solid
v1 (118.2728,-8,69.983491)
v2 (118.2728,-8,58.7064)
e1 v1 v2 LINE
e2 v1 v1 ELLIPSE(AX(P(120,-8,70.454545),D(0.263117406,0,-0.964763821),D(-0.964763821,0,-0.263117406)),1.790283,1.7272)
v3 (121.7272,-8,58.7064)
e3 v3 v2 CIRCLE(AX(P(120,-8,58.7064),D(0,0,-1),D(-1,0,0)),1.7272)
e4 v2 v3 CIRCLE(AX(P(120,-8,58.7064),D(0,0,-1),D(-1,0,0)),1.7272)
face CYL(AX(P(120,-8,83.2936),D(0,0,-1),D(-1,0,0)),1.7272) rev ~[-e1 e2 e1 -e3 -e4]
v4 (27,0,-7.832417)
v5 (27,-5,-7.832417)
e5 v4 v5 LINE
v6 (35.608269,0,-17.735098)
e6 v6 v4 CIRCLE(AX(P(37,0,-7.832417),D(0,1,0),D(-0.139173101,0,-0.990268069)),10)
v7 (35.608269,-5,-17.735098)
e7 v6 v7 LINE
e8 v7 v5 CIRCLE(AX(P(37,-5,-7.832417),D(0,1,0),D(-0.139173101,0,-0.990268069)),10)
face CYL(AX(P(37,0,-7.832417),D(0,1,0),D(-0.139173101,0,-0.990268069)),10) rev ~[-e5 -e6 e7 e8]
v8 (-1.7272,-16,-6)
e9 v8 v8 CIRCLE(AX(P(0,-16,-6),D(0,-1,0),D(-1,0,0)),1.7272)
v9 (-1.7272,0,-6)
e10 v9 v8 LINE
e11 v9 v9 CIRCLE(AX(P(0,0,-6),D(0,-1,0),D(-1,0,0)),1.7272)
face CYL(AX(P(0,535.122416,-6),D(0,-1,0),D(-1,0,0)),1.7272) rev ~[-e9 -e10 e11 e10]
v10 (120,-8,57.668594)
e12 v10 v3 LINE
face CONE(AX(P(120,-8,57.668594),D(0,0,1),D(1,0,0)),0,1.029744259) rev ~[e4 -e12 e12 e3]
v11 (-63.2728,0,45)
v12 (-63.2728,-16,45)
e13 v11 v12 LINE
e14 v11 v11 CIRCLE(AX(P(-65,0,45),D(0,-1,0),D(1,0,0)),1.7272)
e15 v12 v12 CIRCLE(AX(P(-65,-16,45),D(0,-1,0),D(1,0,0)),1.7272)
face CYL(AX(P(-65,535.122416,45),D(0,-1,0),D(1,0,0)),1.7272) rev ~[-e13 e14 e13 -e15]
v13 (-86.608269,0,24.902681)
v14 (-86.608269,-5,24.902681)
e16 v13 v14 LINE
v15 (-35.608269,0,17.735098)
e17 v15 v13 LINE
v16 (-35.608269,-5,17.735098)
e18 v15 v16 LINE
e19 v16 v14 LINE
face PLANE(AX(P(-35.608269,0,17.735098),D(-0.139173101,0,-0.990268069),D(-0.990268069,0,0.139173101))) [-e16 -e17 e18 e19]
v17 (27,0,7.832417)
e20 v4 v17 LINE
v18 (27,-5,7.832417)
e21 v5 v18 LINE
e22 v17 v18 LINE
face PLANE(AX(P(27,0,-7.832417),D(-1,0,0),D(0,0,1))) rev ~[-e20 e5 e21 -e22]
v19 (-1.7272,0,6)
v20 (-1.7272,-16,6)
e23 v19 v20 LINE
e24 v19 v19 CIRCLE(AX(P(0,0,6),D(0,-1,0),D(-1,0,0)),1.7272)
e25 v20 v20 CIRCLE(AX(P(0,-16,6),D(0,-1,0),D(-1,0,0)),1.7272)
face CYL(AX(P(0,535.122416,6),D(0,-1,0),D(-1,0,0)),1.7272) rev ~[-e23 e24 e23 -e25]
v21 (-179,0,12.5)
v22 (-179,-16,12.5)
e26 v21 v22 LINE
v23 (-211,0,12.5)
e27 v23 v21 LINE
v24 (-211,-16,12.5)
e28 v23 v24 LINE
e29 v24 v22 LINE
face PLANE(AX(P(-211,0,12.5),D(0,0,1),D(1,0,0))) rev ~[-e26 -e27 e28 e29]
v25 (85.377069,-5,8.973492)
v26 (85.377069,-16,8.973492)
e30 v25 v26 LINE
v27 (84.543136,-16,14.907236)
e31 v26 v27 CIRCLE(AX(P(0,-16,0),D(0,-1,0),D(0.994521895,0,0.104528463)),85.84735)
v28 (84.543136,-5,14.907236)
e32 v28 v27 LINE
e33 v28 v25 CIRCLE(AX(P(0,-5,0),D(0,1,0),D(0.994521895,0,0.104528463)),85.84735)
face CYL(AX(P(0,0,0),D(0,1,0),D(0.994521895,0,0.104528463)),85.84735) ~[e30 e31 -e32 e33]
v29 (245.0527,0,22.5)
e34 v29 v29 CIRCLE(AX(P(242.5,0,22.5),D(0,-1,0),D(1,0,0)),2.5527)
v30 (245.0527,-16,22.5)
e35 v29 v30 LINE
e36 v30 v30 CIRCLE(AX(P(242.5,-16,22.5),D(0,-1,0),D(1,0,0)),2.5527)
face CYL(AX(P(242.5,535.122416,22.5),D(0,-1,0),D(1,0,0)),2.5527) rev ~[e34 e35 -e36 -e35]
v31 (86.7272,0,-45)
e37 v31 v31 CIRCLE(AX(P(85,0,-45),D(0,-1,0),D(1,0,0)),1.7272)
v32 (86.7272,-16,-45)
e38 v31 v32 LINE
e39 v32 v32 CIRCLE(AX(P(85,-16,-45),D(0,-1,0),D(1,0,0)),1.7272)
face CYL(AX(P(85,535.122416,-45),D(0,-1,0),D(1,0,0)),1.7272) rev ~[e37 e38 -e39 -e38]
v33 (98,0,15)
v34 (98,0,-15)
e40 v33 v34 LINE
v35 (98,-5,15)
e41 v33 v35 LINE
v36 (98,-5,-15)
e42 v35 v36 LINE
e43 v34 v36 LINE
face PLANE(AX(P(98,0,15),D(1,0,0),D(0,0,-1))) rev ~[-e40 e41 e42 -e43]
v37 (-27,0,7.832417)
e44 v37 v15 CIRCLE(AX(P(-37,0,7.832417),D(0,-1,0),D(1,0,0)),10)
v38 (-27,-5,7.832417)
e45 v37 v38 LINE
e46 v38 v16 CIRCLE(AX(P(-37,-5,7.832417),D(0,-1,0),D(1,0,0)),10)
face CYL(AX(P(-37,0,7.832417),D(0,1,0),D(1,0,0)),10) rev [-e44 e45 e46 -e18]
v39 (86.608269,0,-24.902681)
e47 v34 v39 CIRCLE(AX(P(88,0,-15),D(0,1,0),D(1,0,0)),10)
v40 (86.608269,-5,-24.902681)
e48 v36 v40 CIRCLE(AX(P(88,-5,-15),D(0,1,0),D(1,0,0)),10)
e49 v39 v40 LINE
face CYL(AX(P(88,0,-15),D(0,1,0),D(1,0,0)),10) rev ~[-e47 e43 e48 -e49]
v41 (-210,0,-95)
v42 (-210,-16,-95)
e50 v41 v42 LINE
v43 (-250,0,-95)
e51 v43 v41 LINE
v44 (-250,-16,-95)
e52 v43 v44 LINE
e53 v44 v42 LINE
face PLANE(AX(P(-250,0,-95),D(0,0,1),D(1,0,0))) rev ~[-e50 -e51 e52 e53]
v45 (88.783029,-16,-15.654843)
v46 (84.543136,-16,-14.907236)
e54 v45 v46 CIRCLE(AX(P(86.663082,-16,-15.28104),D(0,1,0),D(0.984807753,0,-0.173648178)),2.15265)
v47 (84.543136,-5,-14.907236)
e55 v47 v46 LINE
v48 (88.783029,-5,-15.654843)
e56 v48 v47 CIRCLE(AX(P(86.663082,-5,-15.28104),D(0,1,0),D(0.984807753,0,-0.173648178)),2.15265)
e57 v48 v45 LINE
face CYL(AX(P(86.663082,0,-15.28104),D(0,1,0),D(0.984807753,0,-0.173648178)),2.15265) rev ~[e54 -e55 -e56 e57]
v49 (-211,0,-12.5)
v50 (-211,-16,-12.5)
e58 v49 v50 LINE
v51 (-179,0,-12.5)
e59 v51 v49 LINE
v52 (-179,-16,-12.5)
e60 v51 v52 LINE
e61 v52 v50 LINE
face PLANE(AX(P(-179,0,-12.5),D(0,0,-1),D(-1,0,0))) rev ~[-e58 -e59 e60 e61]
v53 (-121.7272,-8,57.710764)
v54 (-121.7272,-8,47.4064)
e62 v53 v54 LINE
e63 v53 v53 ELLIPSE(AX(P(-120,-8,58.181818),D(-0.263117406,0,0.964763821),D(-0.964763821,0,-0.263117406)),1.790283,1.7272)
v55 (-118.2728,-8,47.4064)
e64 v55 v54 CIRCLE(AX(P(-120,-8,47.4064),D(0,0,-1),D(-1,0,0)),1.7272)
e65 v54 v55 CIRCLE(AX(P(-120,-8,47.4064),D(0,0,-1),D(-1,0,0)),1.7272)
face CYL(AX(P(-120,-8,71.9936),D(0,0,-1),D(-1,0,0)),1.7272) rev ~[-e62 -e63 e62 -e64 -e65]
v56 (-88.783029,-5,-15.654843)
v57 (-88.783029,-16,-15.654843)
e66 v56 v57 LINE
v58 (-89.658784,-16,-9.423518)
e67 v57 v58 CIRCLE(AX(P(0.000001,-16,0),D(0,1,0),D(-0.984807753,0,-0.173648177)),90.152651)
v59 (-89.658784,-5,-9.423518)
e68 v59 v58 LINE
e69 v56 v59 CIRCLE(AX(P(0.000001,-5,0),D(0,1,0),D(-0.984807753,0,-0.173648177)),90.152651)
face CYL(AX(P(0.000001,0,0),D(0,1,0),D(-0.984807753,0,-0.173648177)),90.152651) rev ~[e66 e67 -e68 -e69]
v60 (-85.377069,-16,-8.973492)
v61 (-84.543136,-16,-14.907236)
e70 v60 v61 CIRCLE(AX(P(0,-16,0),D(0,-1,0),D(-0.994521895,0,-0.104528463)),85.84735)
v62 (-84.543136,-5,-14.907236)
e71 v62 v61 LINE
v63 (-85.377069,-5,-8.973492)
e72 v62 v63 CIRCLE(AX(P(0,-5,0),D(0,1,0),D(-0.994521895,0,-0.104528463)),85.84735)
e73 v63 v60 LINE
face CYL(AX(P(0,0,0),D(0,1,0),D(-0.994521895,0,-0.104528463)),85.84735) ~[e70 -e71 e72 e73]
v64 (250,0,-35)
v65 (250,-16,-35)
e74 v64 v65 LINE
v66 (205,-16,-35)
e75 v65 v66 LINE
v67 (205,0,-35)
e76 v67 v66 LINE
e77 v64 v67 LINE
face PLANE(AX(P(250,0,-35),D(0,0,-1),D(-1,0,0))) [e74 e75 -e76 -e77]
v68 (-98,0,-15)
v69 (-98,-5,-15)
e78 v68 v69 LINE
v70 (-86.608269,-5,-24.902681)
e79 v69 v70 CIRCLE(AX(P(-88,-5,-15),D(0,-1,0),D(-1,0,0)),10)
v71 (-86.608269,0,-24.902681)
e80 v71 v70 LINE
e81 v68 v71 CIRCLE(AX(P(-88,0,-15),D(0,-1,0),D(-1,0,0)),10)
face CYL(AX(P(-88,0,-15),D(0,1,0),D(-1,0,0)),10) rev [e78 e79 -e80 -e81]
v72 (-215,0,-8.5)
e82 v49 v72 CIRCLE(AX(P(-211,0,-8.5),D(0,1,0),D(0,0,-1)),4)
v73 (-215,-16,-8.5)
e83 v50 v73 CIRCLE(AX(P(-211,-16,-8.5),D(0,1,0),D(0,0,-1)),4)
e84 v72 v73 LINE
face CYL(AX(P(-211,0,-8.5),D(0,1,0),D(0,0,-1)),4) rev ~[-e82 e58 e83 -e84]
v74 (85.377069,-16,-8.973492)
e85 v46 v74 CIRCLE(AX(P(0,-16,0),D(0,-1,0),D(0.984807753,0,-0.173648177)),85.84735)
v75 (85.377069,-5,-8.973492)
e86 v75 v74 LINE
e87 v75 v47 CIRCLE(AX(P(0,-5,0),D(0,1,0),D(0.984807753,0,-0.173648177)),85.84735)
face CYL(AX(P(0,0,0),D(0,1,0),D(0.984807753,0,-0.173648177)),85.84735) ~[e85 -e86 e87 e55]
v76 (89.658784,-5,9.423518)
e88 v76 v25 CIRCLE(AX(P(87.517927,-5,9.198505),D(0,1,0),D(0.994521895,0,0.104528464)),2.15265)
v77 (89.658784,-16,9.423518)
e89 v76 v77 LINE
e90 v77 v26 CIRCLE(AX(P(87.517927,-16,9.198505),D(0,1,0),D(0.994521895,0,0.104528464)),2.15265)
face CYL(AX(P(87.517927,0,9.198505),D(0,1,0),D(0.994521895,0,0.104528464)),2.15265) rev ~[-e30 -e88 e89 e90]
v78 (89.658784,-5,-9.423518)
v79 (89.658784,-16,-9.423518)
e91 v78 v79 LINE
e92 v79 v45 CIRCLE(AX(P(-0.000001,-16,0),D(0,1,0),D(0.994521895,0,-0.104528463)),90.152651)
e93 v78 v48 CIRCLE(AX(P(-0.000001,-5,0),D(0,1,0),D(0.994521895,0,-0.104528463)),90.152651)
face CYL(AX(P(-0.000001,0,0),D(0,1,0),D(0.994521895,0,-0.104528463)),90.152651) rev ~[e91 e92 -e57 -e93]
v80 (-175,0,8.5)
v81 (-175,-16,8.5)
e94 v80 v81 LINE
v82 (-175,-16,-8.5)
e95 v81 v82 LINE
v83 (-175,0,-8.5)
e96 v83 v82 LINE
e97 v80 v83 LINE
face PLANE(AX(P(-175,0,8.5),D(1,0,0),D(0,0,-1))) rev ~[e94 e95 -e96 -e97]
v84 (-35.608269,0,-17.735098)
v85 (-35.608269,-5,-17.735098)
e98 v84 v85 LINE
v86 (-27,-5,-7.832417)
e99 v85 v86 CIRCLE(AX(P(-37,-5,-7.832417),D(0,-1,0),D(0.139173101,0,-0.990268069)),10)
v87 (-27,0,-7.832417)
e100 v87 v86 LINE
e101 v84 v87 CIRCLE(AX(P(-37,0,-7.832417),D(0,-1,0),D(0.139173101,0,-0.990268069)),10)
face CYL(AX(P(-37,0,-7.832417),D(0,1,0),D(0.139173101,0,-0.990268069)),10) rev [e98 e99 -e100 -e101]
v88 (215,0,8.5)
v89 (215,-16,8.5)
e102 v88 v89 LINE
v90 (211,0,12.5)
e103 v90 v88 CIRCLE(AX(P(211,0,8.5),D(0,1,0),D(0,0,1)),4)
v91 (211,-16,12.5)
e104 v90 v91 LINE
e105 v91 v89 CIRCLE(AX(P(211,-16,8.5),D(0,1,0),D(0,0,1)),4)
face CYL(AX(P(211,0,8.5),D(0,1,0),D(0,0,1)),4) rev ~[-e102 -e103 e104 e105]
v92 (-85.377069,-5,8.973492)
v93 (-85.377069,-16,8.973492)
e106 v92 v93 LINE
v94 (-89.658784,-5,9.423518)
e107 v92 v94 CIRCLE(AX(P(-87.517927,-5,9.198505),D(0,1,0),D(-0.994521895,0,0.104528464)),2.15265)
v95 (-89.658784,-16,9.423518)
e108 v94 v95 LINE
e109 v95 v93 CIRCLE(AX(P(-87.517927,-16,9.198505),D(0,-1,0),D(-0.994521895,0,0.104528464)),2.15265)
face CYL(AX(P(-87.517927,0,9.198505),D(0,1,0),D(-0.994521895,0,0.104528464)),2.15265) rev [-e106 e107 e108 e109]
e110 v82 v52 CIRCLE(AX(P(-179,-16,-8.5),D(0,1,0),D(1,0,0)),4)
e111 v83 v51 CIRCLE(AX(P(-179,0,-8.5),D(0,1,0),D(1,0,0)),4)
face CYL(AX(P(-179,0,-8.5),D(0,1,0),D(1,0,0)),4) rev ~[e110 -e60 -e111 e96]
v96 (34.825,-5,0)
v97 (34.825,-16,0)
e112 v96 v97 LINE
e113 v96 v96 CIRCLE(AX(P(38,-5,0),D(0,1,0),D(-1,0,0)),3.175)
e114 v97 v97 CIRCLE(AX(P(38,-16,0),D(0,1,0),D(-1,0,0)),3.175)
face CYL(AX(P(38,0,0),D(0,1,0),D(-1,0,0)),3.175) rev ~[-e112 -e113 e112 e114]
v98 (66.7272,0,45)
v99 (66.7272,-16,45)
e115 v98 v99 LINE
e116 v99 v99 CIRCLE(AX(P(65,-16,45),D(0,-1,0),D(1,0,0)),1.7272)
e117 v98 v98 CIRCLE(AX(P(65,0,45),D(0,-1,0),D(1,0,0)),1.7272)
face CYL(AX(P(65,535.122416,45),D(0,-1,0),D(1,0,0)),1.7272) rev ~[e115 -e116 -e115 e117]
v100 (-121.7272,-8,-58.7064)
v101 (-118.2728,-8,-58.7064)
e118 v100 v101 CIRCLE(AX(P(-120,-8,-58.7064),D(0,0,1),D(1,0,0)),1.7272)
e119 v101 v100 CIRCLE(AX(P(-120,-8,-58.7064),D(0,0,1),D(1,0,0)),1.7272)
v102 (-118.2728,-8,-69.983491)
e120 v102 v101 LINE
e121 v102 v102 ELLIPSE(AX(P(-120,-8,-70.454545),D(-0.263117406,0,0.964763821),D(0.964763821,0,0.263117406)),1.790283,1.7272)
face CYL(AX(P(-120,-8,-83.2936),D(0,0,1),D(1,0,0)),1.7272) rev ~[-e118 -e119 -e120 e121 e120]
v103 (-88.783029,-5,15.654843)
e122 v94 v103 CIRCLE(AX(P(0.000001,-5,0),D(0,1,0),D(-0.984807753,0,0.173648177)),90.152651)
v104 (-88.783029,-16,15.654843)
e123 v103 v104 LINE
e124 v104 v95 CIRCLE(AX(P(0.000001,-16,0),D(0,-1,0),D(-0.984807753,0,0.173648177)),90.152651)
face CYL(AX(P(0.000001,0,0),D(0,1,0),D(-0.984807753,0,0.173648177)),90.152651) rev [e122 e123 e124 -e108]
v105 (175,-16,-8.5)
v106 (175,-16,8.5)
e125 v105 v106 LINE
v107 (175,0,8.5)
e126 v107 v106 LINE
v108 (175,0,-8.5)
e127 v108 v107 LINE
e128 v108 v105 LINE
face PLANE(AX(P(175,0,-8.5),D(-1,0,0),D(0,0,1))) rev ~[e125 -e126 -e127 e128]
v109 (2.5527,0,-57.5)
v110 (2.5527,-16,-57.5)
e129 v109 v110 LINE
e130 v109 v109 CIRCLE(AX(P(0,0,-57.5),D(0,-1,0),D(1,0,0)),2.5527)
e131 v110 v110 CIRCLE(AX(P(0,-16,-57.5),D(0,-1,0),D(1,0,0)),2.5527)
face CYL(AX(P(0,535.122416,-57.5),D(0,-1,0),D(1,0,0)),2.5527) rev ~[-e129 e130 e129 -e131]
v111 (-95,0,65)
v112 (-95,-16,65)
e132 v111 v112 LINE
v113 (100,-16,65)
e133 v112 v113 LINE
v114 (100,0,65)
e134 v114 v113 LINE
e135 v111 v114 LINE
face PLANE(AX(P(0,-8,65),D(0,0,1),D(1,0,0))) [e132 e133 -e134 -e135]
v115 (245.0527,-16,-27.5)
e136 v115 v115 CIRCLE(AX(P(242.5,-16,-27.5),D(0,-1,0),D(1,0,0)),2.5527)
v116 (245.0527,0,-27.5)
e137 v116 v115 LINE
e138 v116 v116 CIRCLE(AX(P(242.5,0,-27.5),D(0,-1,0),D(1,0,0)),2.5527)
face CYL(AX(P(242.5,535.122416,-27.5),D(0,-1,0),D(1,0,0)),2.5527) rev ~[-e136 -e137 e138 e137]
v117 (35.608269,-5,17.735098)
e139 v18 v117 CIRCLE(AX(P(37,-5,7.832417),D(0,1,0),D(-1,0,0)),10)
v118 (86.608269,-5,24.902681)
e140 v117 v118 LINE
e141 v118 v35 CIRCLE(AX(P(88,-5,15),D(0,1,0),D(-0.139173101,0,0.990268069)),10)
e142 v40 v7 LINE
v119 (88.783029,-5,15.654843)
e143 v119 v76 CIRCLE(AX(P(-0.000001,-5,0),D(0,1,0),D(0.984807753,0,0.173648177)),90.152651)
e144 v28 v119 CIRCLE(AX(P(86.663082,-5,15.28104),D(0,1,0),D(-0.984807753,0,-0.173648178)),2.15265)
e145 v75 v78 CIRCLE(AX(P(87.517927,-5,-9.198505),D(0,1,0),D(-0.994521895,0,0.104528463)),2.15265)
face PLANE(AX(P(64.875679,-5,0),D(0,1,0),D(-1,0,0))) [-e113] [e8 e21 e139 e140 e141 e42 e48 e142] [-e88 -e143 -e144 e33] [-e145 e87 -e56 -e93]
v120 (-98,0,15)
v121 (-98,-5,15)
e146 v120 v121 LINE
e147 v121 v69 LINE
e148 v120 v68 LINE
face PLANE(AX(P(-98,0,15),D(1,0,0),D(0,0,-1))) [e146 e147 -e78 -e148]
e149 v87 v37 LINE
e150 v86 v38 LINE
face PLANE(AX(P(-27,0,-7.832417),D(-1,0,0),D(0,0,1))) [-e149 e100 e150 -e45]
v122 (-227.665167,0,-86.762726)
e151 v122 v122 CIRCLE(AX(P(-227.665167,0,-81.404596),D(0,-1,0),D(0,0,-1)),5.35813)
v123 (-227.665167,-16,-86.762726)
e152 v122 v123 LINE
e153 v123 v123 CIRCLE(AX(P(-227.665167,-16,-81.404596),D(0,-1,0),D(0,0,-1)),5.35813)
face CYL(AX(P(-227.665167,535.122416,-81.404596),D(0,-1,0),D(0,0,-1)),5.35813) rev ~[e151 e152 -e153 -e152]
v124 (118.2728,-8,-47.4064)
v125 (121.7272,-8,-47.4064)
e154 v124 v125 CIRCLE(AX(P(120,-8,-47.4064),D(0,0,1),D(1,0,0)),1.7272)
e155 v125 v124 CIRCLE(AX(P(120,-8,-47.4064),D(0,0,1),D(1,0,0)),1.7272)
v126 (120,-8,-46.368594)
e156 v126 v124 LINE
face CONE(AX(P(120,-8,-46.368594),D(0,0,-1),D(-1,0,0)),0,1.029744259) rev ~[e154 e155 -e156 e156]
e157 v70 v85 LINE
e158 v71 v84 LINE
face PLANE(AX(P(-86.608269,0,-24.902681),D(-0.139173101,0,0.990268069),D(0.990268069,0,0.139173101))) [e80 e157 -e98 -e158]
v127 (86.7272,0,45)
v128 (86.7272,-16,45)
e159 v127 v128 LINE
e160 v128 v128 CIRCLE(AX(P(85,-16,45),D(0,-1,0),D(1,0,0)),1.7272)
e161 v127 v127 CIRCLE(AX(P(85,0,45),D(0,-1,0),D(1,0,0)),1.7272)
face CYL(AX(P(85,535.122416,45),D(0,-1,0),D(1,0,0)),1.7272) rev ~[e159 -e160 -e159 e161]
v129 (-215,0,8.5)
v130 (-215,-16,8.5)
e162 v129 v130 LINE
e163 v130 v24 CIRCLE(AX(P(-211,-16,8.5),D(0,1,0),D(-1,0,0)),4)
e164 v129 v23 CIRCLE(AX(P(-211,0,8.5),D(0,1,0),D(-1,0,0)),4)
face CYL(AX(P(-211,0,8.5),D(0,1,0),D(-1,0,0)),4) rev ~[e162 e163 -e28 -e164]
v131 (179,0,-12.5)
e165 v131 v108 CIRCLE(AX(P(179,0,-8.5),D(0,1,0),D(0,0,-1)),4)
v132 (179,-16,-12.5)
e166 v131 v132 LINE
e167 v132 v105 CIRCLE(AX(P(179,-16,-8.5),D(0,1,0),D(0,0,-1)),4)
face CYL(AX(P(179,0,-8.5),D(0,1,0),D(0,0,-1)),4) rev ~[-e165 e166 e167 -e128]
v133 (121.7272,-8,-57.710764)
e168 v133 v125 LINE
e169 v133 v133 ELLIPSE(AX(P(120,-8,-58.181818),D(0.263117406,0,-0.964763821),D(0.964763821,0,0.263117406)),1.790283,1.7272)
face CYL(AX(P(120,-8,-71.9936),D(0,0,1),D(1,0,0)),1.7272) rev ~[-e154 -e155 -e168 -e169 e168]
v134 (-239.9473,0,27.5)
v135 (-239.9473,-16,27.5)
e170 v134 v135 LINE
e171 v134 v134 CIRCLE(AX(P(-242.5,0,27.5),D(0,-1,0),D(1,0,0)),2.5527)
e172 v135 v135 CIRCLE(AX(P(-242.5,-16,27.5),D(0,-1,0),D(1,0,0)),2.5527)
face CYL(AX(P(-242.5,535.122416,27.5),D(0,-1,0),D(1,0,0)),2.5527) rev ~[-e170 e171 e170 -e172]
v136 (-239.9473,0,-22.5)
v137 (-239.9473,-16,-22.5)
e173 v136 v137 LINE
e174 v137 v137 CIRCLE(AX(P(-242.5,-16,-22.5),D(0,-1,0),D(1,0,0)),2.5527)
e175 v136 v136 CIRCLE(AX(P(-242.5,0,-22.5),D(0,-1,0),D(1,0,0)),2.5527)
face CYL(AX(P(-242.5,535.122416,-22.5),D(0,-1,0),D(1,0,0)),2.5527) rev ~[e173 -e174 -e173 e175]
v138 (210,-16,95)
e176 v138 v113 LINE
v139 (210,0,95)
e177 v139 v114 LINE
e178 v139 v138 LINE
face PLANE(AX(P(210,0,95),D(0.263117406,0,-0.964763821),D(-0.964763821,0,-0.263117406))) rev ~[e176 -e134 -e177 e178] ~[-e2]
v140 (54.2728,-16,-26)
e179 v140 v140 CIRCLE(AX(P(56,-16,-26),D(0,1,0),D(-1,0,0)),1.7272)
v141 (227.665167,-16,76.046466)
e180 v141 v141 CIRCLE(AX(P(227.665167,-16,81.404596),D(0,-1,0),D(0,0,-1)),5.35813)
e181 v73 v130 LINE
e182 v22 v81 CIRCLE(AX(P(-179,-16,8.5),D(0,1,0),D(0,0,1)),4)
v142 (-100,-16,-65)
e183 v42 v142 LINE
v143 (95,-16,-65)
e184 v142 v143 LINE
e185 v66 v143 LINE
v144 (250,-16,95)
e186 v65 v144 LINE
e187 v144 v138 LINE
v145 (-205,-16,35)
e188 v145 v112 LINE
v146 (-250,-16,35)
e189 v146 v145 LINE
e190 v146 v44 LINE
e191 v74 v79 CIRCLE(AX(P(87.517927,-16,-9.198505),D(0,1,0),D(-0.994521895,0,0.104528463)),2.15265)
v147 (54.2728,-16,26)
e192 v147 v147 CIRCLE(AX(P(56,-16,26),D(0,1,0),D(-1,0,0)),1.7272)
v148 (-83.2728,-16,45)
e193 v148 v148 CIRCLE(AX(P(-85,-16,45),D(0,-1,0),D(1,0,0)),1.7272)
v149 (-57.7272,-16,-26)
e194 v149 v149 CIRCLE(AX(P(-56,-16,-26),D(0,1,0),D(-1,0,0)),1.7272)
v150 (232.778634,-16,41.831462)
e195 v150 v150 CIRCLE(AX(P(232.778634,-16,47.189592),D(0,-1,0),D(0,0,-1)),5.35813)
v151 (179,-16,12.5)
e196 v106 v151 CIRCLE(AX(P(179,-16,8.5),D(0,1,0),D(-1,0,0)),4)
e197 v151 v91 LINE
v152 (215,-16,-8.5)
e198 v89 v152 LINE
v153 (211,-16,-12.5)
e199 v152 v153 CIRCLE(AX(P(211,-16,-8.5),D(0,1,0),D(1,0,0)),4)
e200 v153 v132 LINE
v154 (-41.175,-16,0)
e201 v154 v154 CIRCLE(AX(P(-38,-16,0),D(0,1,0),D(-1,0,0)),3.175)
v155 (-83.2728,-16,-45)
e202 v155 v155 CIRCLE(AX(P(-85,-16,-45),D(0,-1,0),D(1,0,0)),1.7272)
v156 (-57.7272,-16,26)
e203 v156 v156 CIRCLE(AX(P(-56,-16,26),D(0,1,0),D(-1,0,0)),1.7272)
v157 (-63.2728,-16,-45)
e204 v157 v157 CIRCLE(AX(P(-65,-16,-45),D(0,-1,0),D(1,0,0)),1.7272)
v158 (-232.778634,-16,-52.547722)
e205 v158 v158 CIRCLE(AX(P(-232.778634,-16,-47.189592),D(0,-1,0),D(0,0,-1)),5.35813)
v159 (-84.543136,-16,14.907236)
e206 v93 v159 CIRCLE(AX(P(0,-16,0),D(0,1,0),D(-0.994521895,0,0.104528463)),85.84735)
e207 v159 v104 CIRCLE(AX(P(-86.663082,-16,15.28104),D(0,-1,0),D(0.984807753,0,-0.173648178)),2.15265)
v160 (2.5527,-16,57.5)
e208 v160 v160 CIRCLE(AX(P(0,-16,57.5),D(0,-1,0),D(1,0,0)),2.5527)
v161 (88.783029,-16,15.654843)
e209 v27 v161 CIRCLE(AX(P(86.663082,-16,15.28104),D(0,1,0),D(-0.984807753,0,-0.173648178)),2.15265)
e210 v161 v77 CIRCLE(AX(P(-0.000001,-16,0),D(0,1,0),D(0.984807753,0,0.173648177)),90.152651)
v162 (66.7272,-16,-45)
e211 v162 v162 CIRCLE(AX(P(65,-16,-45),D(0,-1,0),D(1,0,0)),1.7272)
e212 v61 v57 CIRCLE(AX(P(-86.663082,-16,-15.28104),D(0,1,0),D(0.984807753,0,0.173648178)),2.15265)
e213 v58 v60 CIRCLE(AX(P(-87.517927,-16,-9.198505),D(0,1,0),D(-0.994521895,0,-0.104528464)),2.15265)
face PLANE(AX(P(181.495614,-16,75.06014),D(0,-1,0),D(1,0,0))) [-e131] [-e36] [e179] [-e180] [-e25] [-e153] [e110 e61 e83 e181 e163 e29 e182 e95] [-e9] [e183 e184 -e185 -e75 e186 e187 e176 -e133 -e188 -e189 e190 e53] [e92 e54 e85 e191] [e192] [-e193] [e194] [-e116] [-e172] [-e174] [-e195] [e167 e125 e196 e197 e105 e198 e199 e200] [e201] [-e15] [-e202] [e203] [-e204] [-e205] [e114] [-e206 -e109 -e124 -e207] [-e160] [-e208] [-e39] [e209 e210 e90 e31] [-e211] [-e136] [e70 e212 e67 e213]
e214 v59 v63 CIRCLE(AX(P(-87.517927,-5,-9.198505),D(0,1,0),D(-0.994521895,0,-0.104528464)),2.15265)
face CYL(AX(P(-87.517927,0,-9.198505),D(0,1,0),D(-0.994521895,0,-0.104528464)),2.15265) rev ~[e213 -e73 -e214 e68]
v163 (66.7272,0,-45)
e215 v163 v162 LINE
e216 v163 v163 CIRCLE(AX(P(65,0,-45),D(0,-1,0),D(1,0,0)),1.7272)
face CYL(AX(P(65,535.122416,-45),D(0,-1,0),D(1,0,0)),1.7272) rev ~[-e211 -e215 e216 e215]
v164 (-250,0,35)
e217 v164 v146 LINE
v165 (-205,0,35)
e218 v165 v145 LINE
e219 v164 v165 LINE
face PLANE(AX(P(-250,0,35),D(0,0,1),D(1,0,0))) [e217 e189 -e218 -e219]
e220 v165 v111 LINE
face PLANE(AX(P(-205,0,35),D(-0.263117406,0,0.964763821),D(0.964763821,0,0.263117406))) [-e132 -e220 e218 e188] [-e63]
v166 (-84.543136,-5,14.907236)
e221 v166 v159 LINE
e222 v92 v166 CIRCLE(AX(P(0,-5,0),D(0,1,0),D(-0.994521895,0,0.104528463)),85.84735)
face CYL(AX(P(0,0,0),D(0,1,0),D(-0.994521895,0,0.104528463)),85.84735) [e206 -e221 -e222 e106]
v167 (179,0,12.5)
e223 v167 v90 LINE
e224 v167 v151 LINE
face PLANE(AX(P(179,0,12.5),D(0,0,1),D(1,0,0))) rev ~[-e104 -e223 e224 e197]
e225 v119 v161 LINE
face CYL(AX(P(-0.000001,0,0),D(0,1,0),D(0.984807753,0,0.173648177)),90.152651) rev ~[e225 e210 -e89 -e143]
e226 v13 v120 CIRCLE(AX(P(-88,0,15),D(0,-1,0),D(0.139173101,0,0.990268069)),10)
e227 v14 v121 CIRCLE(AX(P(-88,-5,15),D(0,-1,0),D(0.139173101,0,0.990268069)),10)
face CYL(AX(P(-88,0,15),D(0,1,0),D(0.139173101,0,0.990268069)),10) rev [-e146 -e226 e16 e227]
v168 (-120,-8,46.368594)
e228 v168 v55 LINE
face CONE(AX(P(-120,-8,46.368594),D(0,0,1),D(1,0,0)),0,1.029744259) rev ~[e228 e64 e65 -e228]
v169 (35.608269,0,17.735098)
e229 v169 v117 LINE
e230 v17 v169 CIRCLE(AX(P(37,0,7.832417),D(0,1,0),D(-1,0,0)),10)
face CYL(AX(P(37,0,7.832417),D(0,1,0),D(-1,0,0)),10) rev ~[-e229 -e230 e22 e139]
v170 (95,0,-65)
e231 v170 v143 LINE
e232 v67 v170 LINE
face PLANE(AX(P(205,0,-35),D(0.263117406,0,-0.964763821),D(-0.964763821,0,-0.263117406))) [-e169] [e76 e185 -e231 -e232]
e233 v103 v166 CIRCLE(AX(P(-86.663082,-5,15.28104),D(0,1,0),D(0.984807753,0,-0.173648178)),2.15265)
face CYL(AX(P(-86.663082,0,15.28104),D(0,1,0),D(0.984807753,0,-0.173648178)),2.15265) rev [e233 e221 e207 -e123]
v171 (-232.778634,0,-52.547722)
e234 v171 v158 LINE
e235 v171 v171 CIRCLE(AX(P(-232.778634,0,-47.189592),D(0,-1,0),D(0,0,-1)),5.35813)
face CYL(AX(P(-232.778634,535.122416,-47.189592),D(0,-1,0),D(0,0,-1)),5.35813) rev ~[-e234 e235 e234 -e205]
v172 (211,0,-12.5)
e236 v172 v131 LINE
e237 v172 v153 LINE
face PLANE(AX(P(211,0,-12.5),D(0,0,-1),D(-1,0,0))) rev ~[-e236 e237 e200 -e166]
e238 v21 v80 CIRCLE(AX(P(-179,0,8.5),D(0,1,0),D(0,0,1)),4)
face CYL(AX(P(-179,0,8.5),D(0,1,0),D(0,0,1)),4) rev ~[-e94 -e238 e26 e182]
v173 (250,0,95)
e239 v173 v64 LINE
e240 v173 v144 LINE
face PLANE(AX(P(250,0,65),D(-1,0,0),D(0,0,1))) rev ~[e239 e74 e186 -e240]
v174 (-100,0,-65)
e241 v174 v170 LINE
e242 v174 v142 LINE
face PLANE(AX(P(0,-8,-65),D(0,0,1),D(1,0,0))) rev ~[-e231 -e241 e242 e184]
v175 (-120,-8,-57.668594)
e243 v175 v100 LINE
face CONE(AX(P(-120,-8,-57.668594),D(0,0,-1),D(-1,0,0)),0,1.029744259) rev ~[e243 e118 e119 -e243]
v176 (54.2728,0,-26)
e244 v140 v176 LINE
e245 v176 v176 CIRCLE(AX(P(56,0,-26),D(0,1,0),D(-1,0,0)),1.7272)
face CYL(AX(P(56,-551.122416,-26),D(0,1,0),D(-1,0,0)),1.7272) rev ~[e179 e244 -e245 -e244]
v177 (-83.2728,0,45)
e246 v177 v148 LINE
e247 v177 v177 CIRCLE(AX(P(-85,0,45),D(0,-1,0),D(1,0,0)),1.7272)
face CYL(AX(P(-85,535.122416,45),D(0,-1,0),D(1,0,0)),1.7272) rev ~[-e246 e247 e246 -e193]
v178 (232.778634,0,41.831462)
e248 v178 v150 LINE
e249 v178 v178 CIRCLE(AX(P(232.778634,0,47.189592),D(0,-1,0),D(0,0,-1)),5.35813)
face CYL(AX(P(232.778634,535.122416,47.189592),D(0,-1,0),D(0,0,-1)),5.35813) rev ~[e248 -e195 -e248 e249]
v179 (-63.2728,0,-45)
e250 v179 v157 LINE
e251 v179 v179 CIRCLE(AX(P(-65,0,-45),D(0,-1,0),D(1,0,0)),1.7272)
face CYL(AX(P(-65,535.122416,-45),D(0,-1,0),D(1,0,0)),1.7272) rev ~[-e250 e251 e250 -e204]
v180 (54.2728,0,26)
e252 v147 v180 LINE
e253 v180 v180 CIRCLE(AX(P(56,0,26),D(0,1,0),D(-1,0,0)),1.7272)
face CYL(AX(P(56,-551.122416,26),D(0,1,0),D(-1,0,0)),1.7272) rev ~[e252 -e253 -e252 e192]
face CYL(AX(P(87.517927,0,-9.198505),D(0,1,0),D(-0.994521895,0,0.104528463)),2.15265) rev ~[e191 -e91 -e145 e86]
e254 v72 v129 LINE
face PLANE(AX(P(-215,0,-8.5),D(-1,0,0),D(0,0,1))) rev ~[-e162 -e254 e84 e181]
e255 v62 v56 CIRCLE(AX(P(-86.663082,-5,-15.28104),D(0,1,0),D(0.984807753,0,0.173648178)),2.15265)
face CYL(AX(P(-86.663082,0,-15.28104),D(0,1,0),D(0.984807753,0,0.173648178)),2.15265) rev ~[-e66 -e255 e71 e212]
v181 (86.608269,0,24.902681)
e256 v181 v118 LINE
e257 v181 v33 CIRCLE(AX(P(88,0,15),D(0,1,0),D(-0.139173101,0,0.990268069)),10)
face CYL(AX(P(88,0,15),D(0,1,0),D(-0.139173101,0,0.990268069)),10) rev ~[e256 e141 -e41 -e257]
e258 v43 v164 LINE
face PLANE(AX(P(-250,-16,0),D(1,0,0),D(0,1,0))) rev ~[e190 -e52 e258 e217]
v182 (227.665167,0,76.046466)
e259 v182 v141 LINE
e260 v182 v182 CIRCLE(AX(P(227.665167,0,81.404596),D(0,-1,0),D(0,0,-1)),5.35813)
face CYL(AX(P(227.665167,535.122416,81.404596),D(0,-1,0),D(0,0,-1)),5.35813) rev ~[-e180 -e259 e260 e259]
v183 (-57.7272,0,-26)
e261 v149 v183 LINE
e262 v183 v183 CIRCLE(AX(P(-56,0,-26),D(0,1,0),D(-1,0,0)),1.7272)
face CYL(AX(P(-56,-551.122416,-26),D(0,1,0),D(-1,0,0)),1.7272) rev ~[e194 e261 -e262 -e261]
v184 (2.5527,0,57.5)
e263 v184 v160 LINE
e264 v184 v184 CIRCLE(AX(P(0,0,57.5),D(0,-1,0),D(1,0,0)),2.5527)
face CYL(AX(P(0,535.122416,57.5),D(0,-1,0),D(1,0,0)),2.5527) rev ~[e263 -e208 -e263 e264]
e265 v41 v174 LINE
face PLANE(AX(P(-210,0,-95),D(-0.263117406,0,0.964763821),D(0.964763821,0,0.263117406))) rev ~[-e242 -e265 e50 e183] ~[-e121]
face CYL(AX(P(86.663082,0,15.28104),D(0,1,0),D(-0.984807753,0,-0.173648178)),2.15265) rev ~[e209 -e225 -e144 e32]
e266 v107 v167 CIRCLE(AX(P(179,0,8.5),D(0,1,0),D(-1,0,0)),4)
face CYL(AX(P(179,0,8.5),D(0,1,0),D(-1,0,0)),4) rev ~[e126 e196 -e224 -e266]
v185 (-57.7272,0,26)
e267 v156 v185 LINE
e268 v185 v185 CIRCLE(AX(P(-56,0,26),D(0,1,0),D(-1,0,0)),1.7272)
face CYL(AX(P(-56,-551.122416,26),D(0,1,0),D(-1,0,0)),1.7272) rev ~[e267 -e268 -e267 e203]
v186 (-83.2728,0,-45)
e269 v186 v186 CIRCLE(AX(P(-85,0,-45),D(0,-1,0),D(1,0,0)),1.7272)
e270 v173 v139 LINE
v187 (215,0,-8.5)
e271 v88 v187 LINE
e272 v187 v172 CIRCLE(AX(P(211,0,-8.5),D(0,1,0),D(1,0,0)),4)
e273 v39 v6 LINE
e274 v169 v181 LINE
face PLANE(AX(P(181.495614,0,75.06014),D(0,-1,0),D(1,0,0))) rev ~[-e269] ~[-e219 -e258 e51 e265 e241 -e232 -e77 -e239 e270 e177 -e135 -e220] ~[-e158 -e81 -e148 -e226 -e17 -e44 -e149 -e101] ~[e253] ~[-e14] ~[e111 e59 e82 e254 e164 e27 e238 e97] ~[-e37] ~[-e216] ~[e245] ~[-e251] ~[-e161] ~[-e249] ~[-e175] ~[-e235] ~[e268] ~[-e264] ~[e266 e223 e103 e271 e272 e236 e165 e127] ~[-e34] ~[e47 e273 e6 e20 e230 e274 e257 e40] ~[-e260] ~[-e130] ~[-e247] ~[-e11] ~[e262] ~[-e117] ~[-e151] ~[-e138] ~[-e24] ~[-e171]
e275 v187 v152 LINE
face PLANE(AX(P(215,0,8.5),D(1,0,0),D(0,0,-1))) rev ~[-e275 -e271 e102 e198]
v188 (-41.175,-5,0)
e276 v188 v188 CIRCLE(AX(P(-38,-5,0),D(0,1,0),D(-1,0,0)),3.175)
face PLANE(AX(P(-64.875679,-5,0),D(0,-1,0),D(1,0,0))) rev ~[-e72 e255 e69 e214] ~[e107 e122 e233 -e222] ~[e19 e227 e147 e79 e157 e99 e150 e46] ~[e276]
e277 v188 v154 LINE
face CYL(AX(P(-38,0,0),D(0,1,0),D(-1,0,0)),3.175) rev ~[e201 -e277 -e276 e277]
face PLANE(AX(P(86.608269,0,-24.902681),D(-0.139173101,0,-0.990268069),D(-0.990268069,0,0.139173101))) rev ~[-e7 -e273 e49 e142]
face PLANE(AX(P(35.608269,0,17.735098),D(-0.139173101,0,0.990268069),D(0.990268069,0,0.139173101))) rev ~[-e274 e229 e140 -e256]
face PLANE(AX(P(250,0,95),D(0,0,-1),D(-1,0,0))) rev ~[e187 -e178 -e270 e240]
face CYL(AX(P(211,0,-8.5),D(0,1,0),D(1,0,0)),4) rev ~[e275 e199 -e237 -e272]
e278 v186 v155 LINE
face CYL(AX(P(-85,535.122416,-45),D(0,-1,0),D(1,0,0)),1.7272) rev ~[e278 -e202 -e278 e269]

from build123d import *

# Parameters (mm, degrees)
SKETCH1_W                                    = 500
SKETCH1_H                                    = 16
BASE_EXTRUDE_DEPTH                           = 65
EXTRUSION_FOR_BLADE_CLAMPING_DEPTH           = 16
CUTAWAY_TO_BALANCE_BLADE_EXTRUSION_REACH     = 18
HOLES_FOR_WIRES_FROM_BLADES_REACH            = 18
MILLING_FOR_UPPERWIRE_PITCH_ADJUSTMENT_DEPTH = 5
SKETCH9_R                                    = 3.175
SLOTS_HOLE_FOR_UPPERWIRE_PITCH_ADJ_DEPTH     = 16
F_8_32_TAPPED_HOLE1_D                        = 3.4544
F_1_4_20_TAPPED_HOLE1_D                      = 5.1054
F_8_32_TAPPED_HOLE2_D                        = 3.4544
F_8_32_TAPPED_HOLE3_D                        = 3.4544
F_1_4_20_TAPPED_HOLE2_D                      = 5.1054
F_8_32_TAPPED_HOLE5_D                        = 3.4544
F_8_32_TAPPED_HOLE5_DEPTH                    = 12.2936
F_8_32_TAPPED_HOLE5_TIP                      = 1.037806461
F_8_32_TAPPED_HOLE6_D                        = 3.4544
F_8_32_TAPPED_HOLE6_DEPTH                    = 12.2936
F_8_32_TAPPED_HOLE6_TIP                      = 1.037806461
F_8_32_TAPPED_HOLE7_D                        = 3.4544
F_8_32_TAPPED_HOLE7_DEPTH                    = 12.2936
F_8_32_TAPPED_HOLE7_TIP                      = 1.037806461
F_8_32_TAPPED_HOLE8_D                        = 3.4544
F_8_32_TAPPED_HOLE8_DEPTH                    = 12.2936
F_8_32_TAPPED_HOLE8_TIP                      = 1.037806461
F_1_2_13_TAPPED_HOLE4_D                      = 10.71626


with BuildPart() as part:
    # Sketch1 → Base-Extrude (new body, symmetric)
    with BuildSketch(Plane.XY):
        with Locations((0, -8)):
            Rectangle(SKETCH1_W, SKETCH1_H)
    extrude(amount=BASE_EXTRUDE_DEPTH, both=True)

    # Sketch3 → Extrusion for Blade Clamping (add)
    with BuildSketch(Plane(origin=(0, 0, 0), x_dir=(-1, 0, 0), z_dir=(0, 1, 0))):
        Polygon((-210, 95), (-100, 65), (-250, 65), (-250, 95), align=None)
        Polygon((210, -95), (100, -65), (250, -65), (250, -95), align=None)
    extrude(amount=-EXTRUSION_FOR_BLADE_CLAMPING_DEPTH)

    # Sketch4 → Cutaway to Balance Blade Extrusion (cut, up to next)
    with BuildSketch(Plane(origin=(0, 0, 0), x_dir=(-1, 0, 0), z_dir=(0, 1, 0)), mode=Mode.PRIVATE) as cutaway_to_balance_blade_extrusion_sk1:
        Polygon((-205, -35), (-95, -65), (-250, -65), (-250, -35), align=None)
    cutaway_to_balance_blade_extrusion_tool1 = extrude(cutaway_to_balance_blade_extrusion_sk1.sketch, amount=-CUTAWAY_TO_BALANCE_BLADE_EXTRUSION_REACH, mode=Mode.PRIVATE) & part.part
    add(cutaway_to_balance_blade_extrusion_tool1.solids().sort_by_distance((194.958333, 0, -52.75))[0], mode=Mode.SUBTRACT)
    # Sketch4 → Cutaway to Balance Blade Extrusion (cut, up to next)
    with BuildSketch(Plane(origin=(0, 0, 0), x_dir=(-1, 0, 0), z_dir=(0, 1, 0)), mode=Mode.PRIVATE) as cutaway_to_balance_blade_extrusion_sk2:
        Polygon((250, 65), (250, 35), (205, 35), (95, 65), align=None)
    cutaway_to_balance_blade_extrusion_tool2 = extrude(cutaway_to_balance_blade_extrusion_sk2.sketch, amount=-CUTAWAY_TO_BALANCE_BLADE_EXTRUSION_REACH, mode=Mode.PRIVATE) & part.part
    add(cutaway_to_balance_blade_extrusion_tool2.solids().sort_by_distance((-194.958333, 0, 52.75))[0], mode=Mode.SUBTRACT)

    # Sketch5 → Holes for Wires from Blades (cut, up to next)
    with BuildSketch(Plane(origin=(0, 0, 0), x_dir=(-1, 0, 0), z_dir=(0, 1, 0)), mode=Mode.PRIVATE) as holes_for_wires_from_blades_sk1:
        with BuildLine():
            Line((-215, 8.5), (-215, -8.5))
            ThreePointArc((-215, -8.5), (-213.828427125, -11.328427125), (-211, -12.5))
            Line((-211, -12.5), (-179, -12.5))
            ThreePointArc((-179, -12.5), (-176.171572875, -11.328427125), (-175, -8.5))
            Line((-175, -8.5), (-175, 8.5))
            ThreePointArc((-175, 8.5), (-176.171572875, 11.328427125), (-179, 12.5))
            Line((-179, 12.5), (-211, 12.5))
            ThreePointArc((-211, 12.5), (-213.828427125, 11.328427125), (-215, 8.5))
        make_face()
    holes_for_wires_from_blades_tool1 = extrude(holes_for_wires_from_blades_sk1.sketch, amount=-HOLES_FOR_WIRES_FROM_BLADES_REACH, mode=Mode.PRIVATE) & part.part
    add(holes_for_wires_from_blades_tool1.solids().sort_by_distance((195, 0, 0))[0], mode=Mode.SUBTRACT)
    # Sketch5 → Holes for Wires from Blades (cut, up to next)
    with BuildSketch(Plane(origin=(0, 0, 0), x_dir=(-1, 0, 0), z_dir=(0, 1, 0)), mode=Mode.PRIVATE) as holes_for_wires_from_blades_sk2:
        with BuildLine():
            Line((211, 12.5), (179, 12.5))
            ThreePointArc((179, 12.5), (176.171572875, 11.328427125), (175, 8.5))
            Line((175, 8.5), (175, -8.5))
            ThreePointArc((175, -8.5), (176.171572875, -11.328427125), (179, -12.5))
            Line((179, -12.5), (211, -12.5))
            ThreePointArc((211, -12.5), (213.828427125, -11.328427125), (215, -8.5))
            Line((215, -8.5), (215, 8.5))
            ThreePointArc((215, 8.5), (213.828427125, 11.328427125), (211, 12.5))
        make_face()
    holes_for_wires_from_blades_tool2 = extrude(holes_for_wires_from_blades_sk2.sketch, amount=-HOLES_FOR_WIRES_FROM_BLADES_REACH, mode=Mode.PRIVATE) & part.part
    add(holes_for_wires_from_blades_tool2.solids().sort_by_distance((-195, 0, 0))[0], mode=Mode.SUBTRACT)

    # Sketch7 → Milling for UpperWire Pitch Adjustment (cut)
    with BuildSketch(Plane(origin=(0, 0, 0), x_dir=(-1, 0, 0), z_dir=(0, 1, 0))):
        with BuildLine():
            Line((-27, -7.83241743), (-27, 7.83241743))
            ThreePointArc((-27, 7.83241743), (-29.452904198, 14.39300772), (-35.60826899, 17.735098118))
            Line((-35.60826899, 17.735098118), (-86.60826899, 24.902680687))
            ThreePointArc((-86.60826899, 24.902680687), (-94.56059029, 22.547095802), (-98, 15))
            Line((-98, 15), (-98, -15))
            ThreePointArc((-98, -15), (-94.56059029, -22.547095802), (-86.60826899, -24.902680687))
            Line((-86.60826899, -24.902680687), (-35.60826899, -17.735098118))
            ThreePointArc((-35.60826899, -17.735098118), (-29.452904198, -14.39300772), (-27, -7.83241743))
        make_face()
        with BuildLine():
            Line((86.60826899, -24.902680687), (35.60826899, -17.735098118))
            ThreePointArc((35.60826899, -17.735098118), (29.452904198, -14.39300772), (27, -7.83241743))
            Line((27, -7.83241743), (27, 7.83241743))
            ThreePointArc((27, 7.83241743), (29.452904198, 14.39300772), (35.60826899, 17.735098118))
            Line((35.60826899, 17.735098118), (86.60826899, 24.902680687))
            ThreePointArc((86.60826899, 24.902680687), (94.56059029, 22.547095802), (98, 15))
            Line((98, 15), (98, -15))
            ThreePointArc((98, -15), (94.56059029, -22.547095802), (86.60826899, -24.902680687))
        make_face()
    extrude(amount=-MILLING_FOR_UPPERWIRE_PITCH_ADJUSTMENT_DEPTH, mode=Mode.SUBTRACT)

    # Sketch9 → Slots/Hole for UpperWire Pitch Adj (cut)
    with BuildSketch(Plane(origin=(0, 0, 0), x_dir=(-1, 0, 0), z_dir=(0, 1, 0))):
        with Locations((38, 0)):
            Circle(SKETCH9_R)
        with Locations((-38, 0)):
            Circle(SKETCH9_R)
        with BuildLine():
            ThreePointArc((-88.783028675, -15.654843384), (-86.289278515, -17.400986044), (-84.543135856, -14.907235885))
            ThreePointArc((-84.543135856, -14.907235885), (-85.011889491, -11.947641909), (-85.377069234, -8.973491571))
            ThreePointArc((-85.377069234, -8.973491571), (-87.742939989, -7.057647209), (-89.65878435, -9.423517964))
            ThreePointArc((-89.65878435, -9.423517964), (-89.275290607, -12.54682386), (-88.783028675, -15.654843384))
        make_face()
        with BuildLine():
            ThreePointArc((-84.543135856, 14.907235885), (-86.289278515, 17.400986044), (-88.783028675, 15.654843384))
            ThreePointArc((-88.783028675, 15.654843384), (-89.275290607, 12.54682386), (-89.65878435, 9.423517964))
            ThreePointArc((-89.65878435, 9.423517964), (-87.742939989, 7.057647209), (-85.377069234, 8.973491571))
            ThreePointArc((-85.377069234, 8.973491571), (-85.011889491, 11.947641909), (-84.543135856, 14.907235885))
        make_face()
        with BuildLine():
            ThreePointArc((88.783028675, 15.654843384), (89.275290607, 12.54682386), (89.65878435, 9.423517964))
            ThreePointArc((89.65878435, 9.423517964), (87.742939989, 7.057647209), (85.377069234, 8.973491571))
            ThreePointArc((85.377069234, 8.973491571), (85.011889491, 11.947641909), (84.543135856, 14.907235885))
            ThreePointArc((84.543135856, 14.907235885), (86.289278515, 17.400986044), (88.783028675, 15.654843384))
        make_face()
        with BuildLine():
            ThreePointArc((85.377069234, -8.973491571), (85.011889491, -11.947641909), (84.543135856, -14.907235885))
            ThreePointArc((84.543135856, -14.907235885), (86.289278515, -17.400986044), (88.783028675, -15.654843384))
            ThreePointArc((88.783028675, -15.654843384), (89.275290607, -12.54682386), (89.65878435, -9.423517964))
            ThreePointArc((89.65878435, -9.423517964), (87.742939989, -7.057647209), (85.377069234, -8.973491571))
        make_face()
    extrude(amount=-SLOTS_HOLE_FOR_UPPERWIRE_PITCH_ADJ_DEPTH, mode=Mode.SUBTRACT)

    # #8-32 Tapped Hole1 (through all)
    with Locations(Plane(origin=(0, 0, 6), x_dir=(1, 0, 0), z_dir=(0, 1, 0))):
        with Locations((0, 0), (0, 12)):
            Hole(F_8_32_TAPPED_HOLE1_D / 2)

    # 1/4-20 Tapped Hole1 (through all)
    with Locations(Plane(origin=(0, 0, 0), x_dir=(-1, 0, 0), z_dir=(0, 1, 0))):
        with Locations((-242.5, -27.5), (-242.5, 22.5), (242.5, 27.5), (242.5, -22.5)):
            Hole(F_1_4_20_TAPPED_HOLE1_D / 2)

    # #8-32 Tapped Hole2 (through all)
    with Locations(Plane(origin=(0, 0, 0), x_dir=(-1, 0, 0), z_dir=(0, 1, 0))):
        with Locations((-65, 45), (-85, 45), (85, 45), (65, 45), (85, -45), (65, -45), (-65, -45), (-85, -45)):
            Hole(F_8_32_TAPPED_HOLE2_D / 2)

    # #8-32 Tapped Hole3 (through all)
    with Locations(Plane.XZ.offset(16)):
        with Locations((-56, 26), (56, -26), (56, 26), (-56, -26)):
            Hole(F_8_32_TAPPED_HOLE3_D / 2)

    # 1/4-20 Tapped Hole2 (through all)
    with Locations(Plane(origin=(0, 0, 0), x_dir=(-1, 0, 0), z_dir=(0, 1, 0))):
        with Locations((0, 57.5), (0, -57.5)):
            Hole(F_1_4_20_TAPPED_HOLE2_D / 2)

    # #8-32 Tapped Hole5
    with Locations(Plane.XY.offset(59.7)):
        with Locations((-120, -8)):
            Hole(F_8_32_TAPPED_HOLE5_D / 2, depth=F_8_32_TAPPED_HOLE5_DEPTH)
            with Locations((0, 0, -(F_8_32_TAPPED_HOLE5_DEPTH + F_8_32_TAPPED_HOLE5_TIP / 2))):  # 118° drill point
                Cone(0, F_8_32_TAPPED_HOLE5_D / 2, F_8_32_TAPPED_HOLE5_TIP, mode=Mode.SUBTRACT)

    # #8-32 Tapped Hole6
    with Locations(Plane.XY.offset(71)):
        with Locations((120, -8)):
            Hole(F_8_32_TAPPED_HOLE6_D / 2, depth=F_8_32_TAPPED_HOLE6_DEPTH)
            with Locations((0, 0, -(F_8_32_TAPPED_HOLE6_DEPTH + F_8_32_TAPPED_HOLE6_TIP / 2))):  # 118° drill point
                Cone(0, F_8_32_TAPPED_HOLE6_D / 2, F_8_32_TAPPED_HOLE6_TIP, mode=Mode.SUBTRACT)

    # #8-32 Tapped Hole7
    with Locations(Plane(origin=(0, 0, -59.7), x_dir=(-1, 0, 0), z_dir=(0, 0, -1))):
        with Locations((-120, -8)):
            Hole(F_8_32_TAPPED_HOLE7_D / 2, depth=F_8_32_TAPPED_HOLE7_DEPTH)
            with Locations((0, 0, -(F_8_32_TAPPED_HOLE7_DEPTH + F_8_32_TAPPED_HOLE7_TIP / 2))):  # 118° drill point
                Cone(0, F_8_32_TAPPED_HOLE7_D / 2, F_8_32_TAPPED_HOLE7_TIP, mode=Mode.SUBTRACT)

    # #8-32 Tapped Hole8
    with Locations(Plane(origin=(0, 0, -71), x_dir=(-1, 0, 0), z_dir=(0, 0, -1))):
        with Locations((120, -8)):
            Hole(F_8_32_TAPPED_HOLE8_D / 2, depth=F_8_32_TAPPED_HOLE8_DEPTH)
            with Locations((0, 0, -(F_8_32_TAPPED_HOLE8_DEPTH + F_8_32_TAPPED_HOLE8_TIP / 2))):  # 118° drill point
                Cone(0, F_8_32_TAPPED_HOLE8_D / 2, F_8_32_TAPPED_HOLE8_TIP, mode=Mode.SUBTRACT)

    # 1/2-13 Tapped Hole4 (through all)
    with Locations(Plane(origin=(-232.778633851, 0, -47.189591945), x_dir=(0, 0, 1), z_dir=(0, 1, 0))):
        with Locations((0, 0), (-34.215003793, 5.113466578), (94.37918389, 465.557267702), (128.594187683, 460.443801124)):
            Hole(F_1_2_13_TAPPED_HOLE4_D / 2)


solid = part.part
